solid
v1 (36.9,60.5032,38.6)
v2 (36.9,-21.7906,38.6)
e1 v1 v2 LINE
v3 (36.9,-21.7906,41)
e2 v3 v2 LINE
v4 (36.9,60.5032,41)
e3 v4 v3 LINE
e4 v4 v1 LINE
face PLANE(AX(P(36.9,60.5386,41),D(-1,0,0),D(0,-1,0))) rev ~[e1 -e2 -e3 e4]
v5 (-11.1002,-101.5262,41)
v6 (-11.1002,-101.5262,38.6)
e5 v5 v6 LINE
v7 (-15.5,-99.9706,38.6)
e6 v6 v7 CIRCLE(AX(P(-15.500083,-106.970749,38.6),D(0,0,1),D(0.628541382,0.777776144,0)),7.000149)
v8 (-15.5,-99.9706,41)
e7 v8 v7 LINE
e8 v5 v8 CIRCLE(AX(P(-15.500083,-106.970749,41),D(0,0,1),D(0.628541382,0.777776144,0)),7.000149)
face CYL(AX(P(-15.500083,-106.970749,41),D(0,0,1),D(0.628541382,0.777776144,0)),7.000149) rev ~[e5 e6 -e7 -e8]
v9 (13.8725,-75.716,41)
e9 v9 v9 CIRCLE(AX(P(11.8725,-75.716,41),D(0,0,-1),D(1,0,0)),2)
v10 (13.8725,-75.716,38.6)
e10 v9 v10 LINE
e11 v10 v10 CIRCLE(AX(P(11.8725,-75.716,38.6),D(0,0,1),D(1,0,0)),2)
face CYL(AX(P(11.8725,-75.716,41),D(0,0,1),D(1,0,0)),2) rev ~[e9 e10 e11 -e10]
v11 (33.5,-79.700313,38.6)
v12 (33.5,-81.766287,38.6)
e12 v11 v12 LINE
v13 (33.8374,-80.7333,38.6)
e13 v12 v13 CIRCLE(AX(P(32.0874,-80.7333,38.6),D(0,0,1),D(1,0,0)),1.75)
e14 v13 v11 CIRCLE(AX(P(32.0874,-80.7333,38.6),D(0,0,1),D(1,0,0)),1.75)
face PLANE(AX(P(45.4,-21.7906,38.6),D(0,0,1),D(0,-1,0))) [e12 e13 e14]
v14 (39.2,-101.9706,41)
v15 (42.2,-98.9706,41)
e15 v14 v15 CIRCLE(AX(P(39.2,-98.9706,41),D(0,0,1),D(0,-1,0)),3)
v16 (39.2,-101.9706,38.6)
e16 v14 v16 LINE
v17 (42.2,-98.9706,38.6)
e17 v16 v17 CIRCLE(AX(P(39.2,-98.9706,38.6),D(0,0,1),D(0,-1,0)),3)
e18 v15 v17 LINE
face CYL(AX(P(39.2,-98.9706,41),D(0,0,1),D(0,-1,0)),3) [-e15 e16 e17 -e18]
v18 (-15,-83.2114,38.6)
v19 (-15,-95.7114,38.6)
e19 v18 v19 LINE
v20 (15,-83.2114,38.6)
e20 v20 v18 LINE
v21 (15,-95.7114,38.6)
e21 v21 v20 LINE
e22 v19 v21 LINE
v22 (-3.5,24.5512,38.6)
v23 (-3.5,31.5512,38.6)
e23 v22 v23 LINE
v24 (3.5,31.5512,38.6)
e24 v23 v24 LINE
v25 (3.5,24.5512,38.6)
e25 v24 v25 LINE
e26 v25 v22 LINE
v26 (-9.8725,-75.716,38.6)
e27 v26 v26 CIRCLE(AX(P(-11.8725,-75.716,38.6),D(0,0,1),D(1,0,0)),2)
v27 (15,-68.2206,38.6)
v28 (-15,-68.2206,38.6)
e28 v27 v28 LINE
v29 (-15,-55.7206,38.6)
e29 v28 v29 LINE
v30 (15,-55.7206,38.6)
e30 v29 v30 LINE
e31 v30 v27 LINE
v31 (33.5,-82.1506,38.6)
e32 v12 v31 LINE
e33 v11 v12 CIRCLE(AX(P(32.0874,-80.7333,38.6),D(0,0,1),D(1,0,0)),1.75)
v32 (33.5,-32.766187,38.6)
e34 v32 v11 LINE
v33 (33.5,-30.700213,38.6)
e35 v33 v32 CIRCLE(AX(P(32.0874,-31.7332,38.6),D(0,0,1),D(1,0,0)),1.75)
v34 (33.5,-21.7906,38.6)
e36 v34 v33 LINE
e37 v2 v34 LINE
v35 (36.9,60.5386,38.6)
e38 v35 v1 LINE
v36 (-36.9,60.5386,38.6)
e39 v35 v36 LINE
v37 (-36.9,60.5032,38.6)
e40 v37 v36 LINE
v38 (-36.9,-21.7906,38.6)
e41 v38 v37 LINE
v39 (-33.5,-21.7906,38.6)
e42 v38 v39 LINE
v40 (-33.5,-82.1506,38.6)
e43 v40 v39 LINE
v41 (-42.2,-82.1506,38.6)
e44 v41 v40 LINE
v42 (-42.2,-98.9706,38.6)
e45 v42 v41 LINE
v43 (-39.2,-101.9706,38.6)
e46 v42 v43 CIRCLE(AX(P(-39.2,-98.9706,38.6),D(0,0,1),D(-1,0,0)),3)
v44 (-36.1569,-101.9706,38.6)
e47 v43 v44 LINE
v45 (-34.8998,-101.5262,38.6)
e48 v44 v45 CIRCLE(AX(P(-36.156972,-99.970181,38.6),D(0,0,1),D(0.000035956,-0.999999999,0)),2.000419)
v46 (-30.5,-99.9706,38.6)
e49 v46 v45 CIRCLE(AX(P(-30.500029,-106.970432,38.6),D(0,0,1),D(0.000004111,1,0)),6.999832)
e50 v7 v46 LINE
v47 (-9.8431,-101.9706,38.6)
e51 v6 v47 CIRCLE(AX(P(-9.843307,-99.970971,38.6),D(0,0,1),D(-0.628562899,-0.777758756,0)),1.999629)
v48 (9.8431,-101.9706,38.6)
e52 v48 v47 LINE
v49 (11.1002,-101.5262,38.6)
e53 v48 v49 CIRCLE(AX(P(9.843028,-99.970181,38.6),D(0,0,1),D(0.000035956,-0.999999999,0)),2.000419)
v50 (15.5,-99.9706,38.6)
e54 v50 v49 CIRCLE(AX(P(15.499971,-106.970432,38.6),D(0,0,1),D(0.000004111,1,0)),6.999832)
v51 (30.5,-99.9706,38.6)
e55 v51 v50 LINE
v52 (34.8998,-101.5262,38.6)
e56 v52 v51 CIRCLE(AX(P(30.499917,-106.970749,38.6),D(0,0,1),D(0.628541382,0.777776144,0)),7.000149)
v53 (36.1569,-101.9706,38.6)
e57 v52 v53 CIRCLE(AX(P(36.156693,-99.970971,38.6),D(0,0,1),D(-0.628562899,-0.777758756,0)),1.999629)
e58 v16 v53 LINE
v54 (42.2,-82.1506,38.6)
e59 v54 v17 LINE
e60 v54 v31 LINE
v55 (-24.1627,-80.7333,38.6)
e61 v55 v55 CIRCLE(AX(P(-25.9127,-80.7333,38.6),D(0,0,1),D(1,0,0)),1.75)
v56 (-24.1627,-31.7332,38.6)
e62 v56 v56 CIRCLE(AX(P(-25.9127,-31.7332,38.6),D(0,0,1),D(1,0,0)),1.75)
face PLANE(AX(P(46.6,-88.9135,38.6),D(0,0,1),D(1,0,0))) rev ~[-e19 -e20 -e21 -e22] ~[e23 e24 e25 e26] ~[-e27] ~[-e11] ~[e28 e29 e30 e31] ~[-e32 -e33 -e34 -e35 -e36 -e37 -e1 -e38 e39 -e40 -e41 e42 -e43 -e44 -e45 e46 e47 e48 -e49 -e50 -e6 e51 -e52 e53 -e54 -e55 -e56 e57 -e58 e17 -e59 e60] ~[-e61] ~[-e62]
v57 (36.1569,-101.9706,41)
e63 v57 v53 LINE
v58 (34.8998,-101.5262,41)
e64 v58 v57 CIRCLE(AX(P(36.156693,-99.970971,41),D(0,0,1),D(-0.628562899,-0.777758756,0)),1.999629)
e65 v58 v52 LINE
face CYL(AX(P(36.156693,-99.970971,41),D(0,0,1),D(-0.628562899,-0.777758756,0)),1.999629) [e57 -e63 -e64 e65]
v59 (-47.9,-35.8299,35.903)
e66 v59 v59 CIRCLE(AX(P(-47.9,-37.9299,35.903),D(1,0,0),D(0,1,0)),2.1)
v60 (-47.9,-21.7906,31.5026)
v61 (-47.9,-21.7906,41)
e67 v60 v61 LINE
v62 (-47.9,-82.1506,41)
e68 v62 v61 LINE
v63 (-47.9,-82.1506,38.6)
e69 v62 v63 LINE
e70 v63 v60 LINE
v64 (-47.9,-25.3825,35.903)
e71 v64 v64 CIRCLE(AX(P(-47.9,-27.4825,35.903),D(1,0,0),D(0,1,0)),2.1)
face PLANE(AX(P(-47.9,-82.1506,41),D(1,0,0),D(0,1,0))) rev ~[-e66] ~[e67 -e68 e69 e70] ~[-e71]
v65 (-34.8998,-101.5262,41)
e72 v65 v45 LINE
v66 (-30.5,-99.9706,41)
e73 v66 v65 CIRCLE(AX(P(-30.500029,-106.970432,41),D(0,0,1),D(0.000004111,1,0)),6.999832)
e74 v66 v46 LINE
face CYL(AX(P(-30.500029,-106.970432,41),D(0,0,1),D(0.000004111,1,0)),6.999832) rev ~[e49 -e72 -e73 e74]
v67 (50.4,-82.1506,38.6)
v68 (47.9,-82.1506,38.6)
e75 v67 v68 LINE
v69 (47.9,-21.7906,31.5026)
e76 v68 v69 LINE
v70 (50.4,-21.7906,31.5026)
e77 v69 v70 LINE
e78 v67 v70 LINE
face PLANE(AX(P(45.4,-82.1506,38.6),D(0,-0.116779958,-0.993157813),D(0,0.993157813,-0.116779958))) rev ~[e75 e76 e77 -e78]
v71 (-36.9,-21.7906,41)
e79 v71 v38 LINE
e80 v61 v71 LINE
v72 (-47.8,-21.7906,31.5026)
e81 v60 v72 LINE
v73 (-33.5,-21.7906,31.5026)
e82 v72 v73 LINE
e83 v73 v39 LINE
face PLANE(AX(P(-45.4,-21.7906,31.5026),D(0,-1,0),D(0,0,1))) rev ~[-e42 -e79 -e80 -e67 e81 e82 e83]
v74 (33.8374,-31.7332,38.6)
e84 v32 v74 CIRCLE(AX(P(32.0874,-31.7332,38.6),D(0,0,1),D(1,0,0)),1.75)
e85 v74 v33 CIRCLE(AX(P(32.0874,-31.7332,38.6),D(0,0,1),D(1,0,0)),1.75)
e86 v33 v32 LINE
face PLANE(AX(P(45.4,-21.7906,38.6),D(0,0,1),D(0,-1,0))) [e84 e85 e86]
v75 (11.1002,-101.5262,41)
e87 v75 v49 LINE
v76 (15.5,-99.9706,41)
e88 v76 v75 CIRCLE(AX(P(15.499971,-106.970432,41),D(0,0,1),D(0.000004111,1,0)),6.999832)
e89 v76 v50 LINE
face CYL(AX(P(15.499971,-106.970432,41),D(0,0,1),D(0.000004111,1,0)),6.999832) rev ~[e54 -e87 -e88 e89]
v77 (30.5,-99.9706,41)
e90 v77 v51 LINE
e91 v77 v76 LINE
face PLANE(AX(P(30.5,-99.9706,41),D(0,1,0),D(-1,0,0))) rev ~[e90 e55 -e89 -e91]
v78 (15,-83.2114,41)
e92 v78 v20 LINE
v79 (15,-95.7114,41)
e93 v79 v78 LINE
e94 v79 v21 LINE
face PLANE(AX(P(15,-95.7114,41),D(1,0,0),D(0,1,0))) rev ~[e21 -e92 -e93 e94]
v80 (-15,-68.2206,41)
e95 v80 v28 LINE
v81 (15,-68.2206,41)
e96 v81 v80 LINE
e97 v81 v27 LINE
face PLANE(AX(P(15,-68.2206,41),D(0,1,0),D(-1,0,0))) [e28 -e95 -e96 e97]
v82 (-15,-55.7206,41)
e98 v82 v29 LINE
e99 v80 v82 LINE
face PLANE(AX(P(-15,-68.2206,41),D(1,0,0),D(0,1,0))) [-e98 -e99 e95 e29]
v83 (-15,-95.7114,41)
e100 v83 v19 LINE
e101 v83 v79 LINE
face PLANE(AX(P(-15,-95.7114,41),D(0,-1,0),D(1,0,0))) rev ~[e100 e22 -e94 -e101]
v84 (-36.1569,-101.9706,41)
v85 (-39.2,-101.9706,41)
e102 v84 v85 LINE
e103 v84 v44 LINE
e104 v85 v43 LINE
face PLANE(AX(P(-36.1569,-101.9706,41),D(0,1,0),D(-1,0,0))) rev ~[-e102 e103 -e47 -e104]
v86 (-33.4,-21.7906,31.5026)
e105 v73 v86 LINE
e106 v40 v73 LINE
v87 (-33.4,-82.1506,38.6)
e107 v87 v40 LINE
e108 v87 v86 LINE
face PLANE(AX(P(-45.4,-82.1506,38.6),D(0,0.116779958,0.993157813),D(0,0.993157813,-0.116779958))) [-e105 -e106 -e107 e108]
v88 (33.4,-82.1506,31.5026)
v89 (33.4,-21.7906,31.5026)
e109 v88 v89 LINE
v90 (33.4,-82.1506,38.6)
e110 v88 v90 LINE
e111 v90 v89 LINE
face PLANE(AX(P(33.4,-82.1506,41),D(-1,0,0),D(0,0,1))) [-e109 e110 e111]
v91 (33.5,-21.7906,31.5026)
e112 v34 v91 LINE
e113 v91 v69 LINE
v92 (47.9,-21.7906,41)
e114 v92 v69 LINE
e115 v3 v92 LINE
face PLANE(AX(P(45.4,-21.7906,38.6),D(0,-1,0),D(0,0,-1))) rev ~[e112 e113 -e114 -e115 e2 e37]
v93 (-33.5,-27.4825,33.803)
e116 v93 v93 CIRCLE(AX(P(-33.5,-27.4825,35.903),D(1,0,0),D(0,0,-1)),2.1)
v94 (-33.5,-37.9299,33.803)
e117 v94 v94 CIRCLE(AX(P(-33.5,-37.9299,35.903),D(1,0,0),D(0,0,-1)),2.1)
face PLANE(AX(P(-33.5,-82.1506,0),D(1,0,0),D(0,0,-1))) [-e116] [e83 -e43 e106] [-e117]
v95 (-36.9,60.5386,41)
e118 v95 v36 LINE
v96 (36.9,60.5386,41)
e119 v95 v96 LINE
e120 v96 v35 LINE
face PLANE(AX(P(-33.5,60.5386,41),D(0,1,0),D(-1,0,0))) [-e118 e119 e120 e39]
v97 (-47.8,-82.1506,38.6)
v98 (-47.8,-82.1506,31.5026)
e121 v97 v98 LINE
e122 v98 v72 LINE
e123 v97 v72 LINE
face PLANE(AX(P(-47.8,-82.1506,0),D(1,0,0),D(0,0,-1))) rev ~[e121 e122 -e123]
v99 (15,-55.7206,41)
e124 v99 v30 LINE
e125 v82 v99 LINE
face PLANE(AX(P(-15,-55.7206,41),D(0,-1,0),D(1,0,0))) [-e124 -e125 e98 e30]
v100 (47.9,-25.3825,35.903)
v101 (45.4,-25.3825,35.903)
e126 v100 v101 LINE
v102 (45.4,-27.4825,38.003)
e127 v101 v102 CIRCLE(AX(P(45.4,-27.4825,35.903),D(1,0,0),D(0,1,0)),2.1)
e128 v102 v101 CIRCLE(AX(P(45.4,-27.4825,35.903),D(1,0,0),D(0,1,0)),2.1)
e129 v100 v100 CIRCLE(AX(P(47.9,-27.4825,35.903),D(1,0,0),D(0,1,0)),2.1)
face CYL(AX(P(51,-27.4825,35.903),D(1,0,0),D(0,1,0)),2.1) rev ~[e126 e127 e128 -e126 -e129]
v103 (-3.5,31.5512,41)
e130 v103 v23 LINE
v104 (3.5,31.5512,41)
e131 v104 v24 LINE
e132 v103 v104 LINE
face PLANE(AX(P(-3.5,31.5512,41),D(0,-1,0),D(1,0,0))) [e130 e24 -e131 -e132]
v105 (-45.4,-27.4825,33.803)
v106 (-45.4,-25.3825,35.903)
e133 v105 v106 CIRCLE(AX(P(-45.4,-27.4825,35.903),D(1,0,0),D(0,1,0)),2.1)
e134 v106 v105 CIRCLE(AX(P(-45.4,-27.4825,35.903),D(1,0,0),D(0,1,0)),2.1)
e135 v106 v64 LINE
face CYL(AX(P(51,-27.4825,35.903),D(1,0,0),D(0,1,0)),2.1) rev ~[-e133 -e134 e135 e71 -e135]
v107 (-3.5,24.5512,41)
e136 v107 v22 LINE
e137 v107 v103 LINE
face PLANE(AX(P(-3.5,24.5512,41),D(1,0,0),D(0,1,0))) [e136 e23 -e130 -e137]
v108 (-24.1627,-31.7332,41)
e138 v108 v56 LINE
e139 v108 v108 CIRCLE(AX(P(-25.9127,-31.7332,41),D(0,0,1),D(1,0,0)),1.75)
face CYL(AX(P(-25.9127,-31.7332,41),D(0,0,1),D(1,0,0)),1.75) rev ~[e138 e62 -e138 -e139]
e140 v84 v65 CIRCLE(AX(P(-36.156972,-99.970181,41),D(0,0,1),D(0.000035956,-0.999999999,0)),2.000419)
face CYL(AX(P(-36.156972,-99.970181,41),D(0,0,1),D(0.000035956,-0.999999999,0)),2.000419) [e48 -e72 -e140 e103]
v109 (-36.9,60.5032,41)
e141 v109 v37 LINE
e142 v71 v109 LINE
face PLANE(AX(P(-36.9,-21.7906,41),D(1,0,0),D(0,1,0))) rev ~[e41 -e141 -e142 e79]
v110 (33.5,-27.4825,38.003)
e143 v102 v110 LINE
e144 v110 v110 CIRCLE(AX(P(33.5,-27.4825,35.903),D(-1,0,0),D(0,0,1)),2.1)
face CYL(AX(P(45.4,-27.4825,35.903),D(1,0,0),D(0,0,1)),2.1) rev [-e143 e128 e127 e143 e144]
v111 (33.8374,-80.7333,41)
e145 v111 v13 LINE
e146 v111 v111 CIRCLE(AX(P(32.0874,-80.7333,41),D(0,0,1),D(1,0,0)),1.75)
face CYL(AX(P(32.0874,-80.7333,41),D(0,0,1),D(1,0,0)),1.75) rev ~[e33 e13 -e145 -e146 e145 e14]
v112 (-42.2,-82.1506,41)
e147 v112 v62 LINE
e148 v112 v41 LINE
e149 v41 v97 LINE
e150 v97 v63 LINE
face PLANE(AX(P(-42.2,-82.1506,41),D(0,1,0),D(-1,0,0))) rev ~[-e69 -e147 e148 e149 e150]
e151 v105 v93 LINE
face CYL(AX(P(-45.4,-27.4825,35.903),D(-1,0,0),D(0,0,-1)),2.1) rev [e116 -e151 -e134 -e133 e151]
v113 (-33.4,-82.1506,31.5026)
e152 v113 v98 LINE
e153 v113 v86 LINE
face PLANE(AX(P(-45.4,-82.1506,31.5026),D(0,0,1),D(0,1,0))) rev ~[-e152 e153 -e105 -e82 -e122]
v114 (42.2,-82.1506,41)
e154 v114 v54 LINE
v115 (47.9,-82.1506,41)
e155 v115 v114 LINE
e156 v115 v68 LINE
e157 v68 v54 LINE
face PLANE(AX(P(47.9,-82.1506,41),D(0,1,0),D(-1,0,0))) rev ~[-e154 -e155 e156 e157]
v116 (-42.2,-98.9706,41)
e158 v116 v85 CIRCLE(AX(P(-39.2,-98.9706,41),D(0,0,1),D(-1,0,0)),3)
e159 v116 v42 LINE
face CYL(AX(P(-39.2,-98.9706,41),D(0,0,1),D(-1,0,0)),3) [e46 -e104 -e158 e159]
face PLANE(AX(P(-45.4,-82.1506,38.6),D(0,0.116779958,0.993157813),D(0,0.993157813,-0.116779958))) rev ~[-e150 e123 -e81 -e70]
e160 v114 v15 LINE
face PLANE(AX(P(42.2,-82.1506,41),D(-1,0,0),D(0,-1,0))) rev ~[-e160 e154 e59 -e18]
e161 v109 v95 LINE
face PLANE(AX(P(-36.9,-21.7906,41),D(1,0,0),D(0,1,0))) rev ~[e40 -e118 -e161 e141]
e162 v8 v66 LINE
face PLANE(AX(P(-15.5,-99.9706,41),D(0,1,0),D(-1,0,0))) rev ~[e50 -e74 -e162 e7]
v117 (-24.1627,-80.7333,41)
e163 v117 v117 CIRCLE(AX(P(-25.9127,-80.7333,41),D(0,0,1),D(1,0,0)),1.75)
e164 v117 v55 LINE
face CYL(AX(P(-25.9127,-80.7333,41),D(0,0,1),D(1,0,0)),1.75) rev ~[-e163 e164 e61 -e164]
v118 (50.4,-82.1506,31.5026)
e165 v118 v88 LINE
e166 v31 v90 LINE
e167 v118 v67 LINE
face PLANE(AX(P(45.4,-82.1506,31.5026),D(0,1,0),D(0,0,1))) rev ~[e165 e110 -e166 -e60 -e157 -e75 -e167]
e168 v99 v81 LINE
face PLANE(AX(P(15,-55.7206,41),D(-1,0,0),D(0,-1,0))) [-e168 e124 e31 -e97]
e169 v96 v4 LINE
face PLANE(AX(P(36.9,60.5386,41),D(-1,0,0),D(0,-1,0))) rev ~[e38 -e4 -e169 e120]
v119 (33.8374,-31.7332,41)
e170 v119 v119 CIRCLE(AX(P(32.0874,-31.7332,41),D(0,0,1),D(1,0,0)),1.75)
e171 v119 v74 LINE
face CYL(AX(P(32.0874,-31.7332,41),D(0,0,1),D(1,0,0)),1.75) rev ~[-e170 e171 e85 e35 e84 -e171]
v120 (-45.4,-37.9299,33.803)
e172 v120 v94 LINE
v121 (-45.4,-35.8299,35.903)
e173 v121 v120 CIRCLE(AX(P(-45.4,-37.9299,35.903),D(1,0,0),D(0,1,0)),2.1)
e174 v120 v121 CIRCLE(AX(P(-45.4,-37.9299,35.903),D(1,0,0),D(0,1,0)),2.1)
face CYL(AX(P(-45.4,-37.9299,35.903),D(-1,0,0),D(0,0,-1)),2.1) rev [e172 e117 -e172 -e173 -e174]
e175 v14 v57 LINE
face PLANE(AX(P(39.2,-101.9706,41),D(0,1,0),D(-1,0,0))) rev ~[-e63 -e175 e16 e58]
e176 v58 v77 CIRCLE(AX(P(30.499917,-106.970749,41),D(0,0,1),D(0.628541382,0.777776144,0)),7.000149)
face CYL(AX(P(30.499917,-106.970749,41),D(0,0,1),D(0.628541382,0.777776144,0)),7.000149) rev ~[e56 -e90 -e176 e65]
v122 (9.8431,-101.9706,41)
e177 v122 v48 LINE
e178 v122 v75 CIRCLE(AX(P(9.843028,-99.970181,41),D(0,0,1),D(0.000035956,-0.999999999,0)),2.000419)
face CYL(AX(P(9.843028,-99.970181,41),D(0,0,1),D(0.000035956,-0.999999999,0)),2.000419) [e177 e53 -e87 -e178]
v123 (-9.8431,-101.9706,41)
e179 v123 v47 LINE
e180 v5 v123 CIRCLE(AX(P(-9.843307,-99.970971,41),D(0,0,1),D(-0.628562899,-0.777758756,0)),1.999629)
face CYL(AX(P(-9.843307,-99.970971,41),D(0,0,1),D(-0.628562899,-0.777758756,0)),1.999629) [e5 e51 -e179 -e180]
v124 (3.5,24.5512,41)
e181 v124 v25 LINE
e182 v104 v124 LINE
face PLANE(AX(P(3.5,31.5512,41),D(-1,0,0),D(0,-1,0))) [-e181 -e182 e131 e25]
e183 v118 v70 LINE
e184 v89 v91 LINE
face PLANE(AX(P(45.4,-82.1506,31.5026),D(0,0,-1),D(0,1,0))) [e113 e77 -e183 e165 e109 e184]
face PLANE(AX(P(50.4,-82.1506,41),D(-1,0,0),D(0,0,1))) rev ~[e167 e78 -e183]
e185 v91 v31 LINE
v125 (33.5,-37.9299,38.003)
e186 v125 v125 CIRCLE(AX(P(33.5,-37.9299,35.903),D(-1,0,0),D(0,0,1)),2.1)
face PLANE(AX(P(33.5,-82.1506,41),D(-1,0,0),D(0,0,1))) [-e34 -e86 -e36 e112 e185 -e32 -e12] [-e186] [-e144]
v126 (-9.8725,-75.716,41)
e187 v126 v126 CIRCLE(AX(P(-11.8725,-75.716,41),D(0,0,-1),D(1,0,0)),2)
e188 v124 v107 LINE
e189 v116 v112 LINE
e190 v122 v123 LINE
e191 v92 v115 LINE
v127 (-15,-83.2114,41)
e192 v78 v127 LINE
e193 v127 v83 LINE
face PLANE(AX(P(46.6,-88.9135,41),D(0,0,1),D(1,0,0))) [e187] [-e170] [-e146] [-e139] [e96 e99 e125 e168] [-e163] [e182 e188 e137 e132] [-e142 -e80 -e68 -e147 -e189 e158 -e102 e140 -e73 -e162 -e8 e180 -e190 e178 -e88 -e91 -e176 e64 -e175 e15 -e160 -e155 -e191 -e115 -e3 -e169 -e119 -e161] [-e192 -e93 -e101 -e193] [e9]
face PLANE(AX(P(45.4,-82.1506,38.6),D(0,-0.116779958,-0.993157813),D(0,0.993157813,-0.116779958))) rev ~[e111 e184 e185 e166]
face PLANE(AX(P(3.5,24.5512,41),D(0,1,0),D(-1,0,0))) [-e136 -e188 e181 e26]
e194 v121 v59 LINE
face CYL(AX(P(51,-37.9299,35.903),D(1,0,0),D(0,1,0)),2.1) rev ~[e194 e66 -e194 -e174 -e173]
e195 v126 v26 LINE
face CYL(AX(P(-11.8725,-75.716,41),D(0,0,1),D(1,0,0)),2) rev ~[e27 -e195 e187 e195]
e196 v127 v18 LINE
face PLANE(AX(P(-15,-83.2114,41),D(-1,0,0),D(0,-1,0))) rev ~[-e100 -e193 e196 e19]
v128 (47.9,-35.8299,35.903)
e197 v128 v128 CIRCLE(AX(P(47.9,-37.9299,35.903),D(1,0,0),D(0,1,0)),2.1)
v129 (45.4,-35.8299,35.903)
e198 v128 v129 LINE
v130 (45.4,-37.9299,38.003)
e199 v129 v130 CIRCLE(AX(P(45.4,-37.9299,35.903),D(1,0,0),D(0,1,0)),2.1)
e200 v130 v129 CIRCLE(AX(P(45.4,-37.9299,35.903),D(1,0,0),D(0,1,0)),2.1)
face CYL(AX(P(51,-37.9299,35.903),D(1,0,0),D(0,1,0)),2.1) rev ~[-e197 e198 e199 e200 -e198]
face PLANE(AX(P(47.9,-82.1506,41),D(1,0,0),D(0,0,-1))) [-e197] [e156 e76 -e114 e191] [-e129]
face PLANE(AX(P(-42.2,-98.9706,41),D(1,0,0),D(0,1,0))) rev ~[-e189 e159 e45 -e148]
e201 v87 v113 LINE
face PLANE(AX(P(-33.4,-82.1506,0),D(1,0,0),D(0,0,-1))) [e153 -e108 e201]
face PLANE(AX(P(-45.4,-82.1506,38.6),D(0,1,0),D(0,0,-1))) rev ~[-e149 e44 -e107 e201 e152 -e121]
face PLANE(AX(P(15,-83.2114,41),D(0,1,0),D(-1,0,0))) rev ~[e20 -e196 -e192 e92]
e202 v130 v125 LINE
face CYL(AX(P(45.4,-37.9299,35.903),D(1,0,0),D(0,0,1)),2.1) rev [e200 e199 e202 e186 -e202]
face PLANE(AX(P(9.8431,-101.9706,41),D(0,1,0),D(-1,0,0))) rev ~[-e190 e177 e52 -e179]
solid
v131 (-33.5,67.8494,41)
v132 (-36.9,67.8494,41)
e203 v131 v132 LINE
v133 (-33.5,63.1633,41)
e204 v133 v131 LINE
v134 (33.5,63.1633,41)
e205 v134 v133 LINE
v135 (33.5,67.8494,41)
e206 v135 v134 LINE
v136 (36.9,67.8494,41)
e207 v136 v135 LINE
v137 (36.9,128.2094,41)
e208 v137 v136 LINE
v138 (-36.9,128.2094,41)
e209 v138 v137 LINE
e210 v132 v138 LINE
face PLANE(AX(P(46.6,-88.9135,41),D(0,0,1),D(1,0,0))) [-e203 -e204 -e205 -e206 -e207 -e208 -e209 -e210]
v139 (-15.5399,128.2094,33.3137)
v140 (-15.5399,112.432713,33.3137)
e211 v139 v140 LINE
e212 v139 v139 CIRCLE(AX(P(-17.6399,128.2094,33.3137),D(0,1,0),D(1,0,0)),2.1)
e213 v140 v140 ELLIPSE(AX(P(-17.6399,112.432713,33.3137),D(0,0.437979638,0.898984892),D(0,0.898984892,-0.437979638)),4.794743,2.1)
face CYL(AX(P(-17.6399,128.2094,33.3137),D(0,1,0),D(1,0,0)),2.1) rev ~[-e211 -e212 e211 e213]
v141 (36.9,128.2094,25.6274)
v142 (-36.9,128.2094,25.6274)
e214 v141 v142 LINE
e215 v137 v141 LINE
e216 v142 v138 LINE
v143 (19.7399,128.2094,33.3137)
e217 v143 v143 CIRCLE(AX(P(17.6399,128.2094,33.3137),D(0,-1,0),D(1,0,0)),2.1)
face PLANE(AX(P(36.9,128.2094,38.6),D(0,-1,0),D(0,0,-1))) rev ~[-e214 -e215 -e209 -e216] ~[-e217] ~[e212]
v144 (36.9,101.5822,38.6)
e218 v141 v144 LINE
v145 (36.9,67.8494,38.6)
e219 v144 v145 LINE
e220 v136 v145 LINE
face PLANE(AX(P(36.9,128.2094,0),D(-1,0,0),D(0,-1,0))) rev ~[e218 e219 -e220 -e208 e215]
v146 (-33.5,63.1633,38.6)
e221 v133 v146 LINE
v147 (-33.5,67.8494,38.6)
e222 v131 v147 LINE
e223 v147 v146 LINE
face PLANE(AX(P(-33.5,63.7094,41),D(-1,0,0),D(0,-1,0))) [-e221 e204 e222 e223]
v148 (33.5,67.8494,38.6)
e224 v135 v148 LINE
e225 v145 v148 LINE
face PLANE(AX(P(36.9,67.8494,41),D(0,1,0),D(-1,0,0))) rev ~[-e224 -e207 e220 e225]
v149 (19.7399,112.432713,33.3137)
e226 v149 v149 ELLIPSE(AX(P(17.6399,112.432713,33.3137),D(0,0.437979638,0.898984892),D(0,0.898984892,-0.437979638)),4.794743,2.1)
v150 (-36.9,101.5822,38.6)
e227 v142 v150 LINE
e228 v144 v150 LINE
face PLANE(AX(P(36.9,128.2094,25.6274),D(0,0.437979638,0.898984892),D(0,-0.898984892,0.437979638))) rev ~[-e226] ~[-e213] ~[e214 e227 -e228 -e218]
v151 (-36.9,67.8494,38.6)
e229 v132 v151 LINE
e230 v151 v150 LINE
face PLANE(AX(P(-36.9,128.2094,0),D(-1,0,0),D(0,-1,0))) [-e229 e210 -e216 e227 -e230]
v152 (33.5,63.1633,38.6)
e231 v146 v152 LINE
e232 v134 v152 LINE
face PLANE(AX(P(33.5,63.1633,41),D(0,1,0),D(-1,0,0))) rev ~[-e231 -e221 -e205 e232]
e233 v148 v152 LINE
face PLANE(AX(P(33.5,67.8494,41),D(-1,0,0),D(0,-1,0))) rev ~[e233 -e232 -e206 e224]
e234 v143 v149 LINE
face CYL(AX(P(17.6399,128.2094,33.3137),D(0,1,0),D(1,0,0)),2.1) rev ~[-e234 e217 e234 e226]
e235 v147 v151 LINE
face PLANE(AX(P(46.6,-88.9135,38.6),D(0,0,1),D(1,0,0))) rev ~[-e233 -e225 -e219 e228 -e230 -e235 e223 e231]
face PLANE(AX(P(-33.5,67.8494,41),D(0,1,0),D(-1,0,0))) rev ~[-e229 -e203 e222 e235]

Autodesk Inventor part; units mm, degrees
ref_plane "РабПлоскость1" through (46.6, -88.9135, 41) normal (0, 0, 1) x (1, 0, 0)
sketch "Эскиз1" plane through (46.6, -88.9135, 41) normal (0, 0, 1) x (1, 0, 0)
  line L0 (-9.7, 217.1229) -> (-9.7, 156.7629) projected
  line L1 (-83.5, 217.1229) -> (-9.7, 217.1229) projected
  line L2 (-83.5, 156.7629) -> (-83.5, 217.1229) projected
  line L3 (-80.1, 156.7629) -> (-83.5, 156.7629) projected
  line L4 (-9.7, 156.7629) -> (-13.1, 156.7629) projected
  line L5 (-13.1, 156.7629) -> (-13.1, 152.0768) projected
  line L6 (-13.1, 152.0768) -> (-35.7214, 152.0768) projected
  line L7 (-80.1, 152.6229) -> (-80.1, 149.4521) projected
  line L8 (-13.1, 58.2834) -> (-13.1, 67.1229) projected
  line L9 (1.3, 67.1229) -> (1.3, 6.7629) projected
  line L10 (1.3, 6.7629) -> (-4.4, 6.7629) projected
  line L11 (-4.4, 6.7629) -> (-4.4, -10.0571) projected
  arc A0 (-7.4, -13.0571) -> (-4.4, -10.0571) centre (-7.4, -10.0571) ccw projected
  line L12 (-7.4, -13.0571) -> (-10.4431, -13.0571) projected
  arc A1 (-11.7002, -12.6127) -> (-10.4431, -13.0571) centre (-10.4431, -11.0571) ccw projected
  arc A2 (-11.7002, -12.6127) -> (-16.1, -11.0571) centre (-16.1, -18.0571) ccw projected
  line L13 (-16.1, -11.0571) -> (-31.1, -11.0571) projected
  arc A3 (-31.1, -11.0571) -> (-35.4998, -12.6127) centre (-31.1, -18.0571) ccw projected
  arc A4 (-36.7569, -13.0571) -> (-35.4998, -12.6127) centre (-36.7569, -11.0571) ccw projected
  line L14 (-36.7569, -13.0571) -> (-56.4431, -13.0571) projected
  arc A5 (-57.7002, -12.6127) -> (-56.4431, -13.0571) centre (-56.4431, -11.0571) ccw projected
  arc A6 (-57.7002, -12.6127) -> (-62.1, -11.0571) centre (-62.1, -18.0571) ccw projected
  line L15 (-62.1, -11.0571) -> (-77.1, -11.0571) projected
  arc A7 (-77.1, -11.0571) -> (-81.4998, -12.6127) centre (-77.1, -18.0571) ccw projected
  arc A8 (-82.7569, -13.0571) -> (-81.4998, -12.6127) centre (-82.7569, -11.0571) ccw projected
  line L16 (-82.7569, -13.0571) -> (-85.8, -13.0571) projected
  arc A9 (-88.8, -10.0571) -> (-85.8, -13.0571) centre (-85.8, -10.0571) ccw projected
  line L17 (-88.8, -10.0571) -> (-88.8, 6.7629) projected
  line L18 (-88.8, 6.7629) -> (-94.5, 6.7629) projected
  line L19 (-94.5, 6.7629) -> (-94.5, 67.1229) projected
  line L20 (-83.5, 217.1229) -> (-9.7, 217.1229)
  line L21 (-9.7, 156.7629) -> (-9.7, 217.1229)
  line L22 (-9.7, 156.7629) -> (-13.1, 156.7629)
  line L23 (1.3, 67.1229) -> (-8.5813, 67.1229)
  line L24 (1.3, 67.1229) -> (1.3, 6.7629)
  line L25 (-4.4, 6.7629) -> (1.3, 6.7629)
  line L26 (-4.4, 6.7629) -> (-4.4, -10.0571)
  line L27 (-16.1, -11.0571) -> (-31.1, -11.0571)
  arc A10 (-7.4, -13.0571) -> (-4.4, -10.0571) centre (-7.4, -10.0571) ccw
  arc A11 (-11.7002, -12.6127) -> (-10.4431, -13.0571) centre (-10.4431, -11.0571) ccw
  arc A12 (-11.7002, -12.6127) -> (-16.1, -11.0571) centre (-16.1, -18.0571) ccw
  line L28 (-7.4, -13.0571) -> (-10.4431, -13.0571)
  line L29 (-36.7569, -13.0571) -> (-56.4431, -13.0571)
  line L30 (-62.1, -11.0571) -> (-77.1, -11.0571)
  line L31 (-84.2784, -13.0571) -> (-85.8, -13.0571)
  line L32 (-88.8, -10.0571) -> (-88.8, 6.7629)
  line L33 (-94.5, 6.7629) -> (-88.8, 6.7629)
  line L34 (-94.5, 67.1229) -> (-94.5, 6.7629)
  line L35 (-84.6286, 67.1229) -> (-94.5, 67.1229)
  line L36 (-83.5, 217.1229) -> (-83.5, 156.7629)
  line L37 (-83.5, 156.7629) -> (-80.1, 156.7629)
  arc A13 (-31.1, -11.0571) -> (-35.4998, -12.6127) centre (-31.1, -18.0571) ccw
  arc A14 (-36.7569, -13.0571) -> (-35.4998, -12.6127) centre (-36.7569, -11.0571) ccw
  arc A15 (-57.7002, -12.6127) -> (-62.1, -11.0571) centre (-62.1, -18.0571) ccw
  arc A16 (-57.7002, -12.6127) -> (-56.4431, -13.0571) centre (-56.4431, -11.0571) ccw
  arc A17 (-88.8, -10.0571) -> (-85.8, -13.0571) centre (-85.8, -10.0571) ccw
  arc A18 (-82.7569, -13.0571) -> (-81.4998, -12.6127) centre (-82.7569, -11.0571) ccw
  arc A19 (-77.1, -11.0571) -> (-81.4998, -12.6127) centre (-77.1, -18.0571) ccw
  line L38 (-82.7569, -13.0571) -> (-84.2784, -13.0571)
  line L39 (-35.7214, 152.0768) -> (-13.1, 152.0768)
  line L40 (-13.1, 149.4521) -> (-35.7214, 149.4521)
  line L41 (-13.1, 156.7629) -> (-13.1, 152.0768)
  line L42 (-35.7214, 152.0768) -> (-80.1, 152.0768)
  line L43 (-80.1, 156.7629) -> (-80.1, 152.0768)
  line L44 (-83.5, 67.1229) -> (-83.5, 156.7629) projected
  line L45 (-35.7214, 149.4521) -> (-83.5, 149.4521)
  line L46 (-83.5, 149.4521) -> (-83.5, 67.1229)
  line L47 (-83.5, 67.1229) -> (-84.6286, 67.1229)
  line L48 (-9.7, 156.7629) -> (-9.7, 67.1229) projected
  line L49 (-13.1, 149.4521) -> (-9.7, 149.4521)
  line L50 (-9.7, 149.4521) -> (-9.7, 67.1229)
  line L51 (-8.5813, 67.1229) -> (-9.7, 67.1229)
  point P0 (-46.6, 88.9135)
  point P1 (-72.4576, 152.0768)
extrude "Выдавливание1" add sketch "Эскиз1" against normal blind 2.4 contours L0 L4 L5 L6 L42 L7 L43 L3 L2 L1 | L48 L51 L23 L9 L10 L11 A0 L12 A1 A2 L13 A3 A4 L14 A5 A6 L15 A7 A8 L16 A9 L17 L18 L19 L35 L47 L44 L45 L40 L49
sketch "Эскиз2" plane through (46.6, -88.9135, 41) normal (0, 0, 1) x (1, 0, 0)
  line L0 (-47.85, 115.9647) -> (-45.35, 115.9647)
  line L1 (-45.35, 115.9647) -> (-45.35, 117.9647)
  line L2 (-45.35, 117.9647) -> (-47.85, 117.9647)
  line L3 (-47.85, 117.9647) -> (-47.85, 115.9647)
  line L4 (-47.85, 117.9647) -> (-45.35, 115.9647)
  line L5 (-45.35, 117.9647) -> (-47.85, 115.9647)
  line L6 (-44.6, 115.3647) -> (-48.6, 115.3647)
  line L7 (-48.6, 115.3647) -> (-48.6, 118.5647)
  line L8 (-48.6, 118.5647) -> (-44.6, 118.5647)
  line L9 (-44.6, 118.5647) -> (-44.6, 115.3647)
  line L10 (-44.6, 115.3647) -> (-48.6, 118.5647) construction
  line L11 (-48.6, 115.3647) -> (-44.6, 118.5647) construction
  point P0 (-46.6, 88.9135)
  point P1 (-46.6, 116.9647)
  dimension "d2" = 4
  dimension "d3" = 3.2
extrude "Выдавливание2" cut sketch "Эскиз2" against normal blind 2.4 contours L5 L4 L0 | L3 L4 L5 | L4 L5 L1 | L2 L5 L4 | L6 L7 L8 L9
ref_plane "РабПлоскость3" through (36.9, 128.2094, 0) normal (-1, 0, 0) x (0, -1, 0)
sketch "Эскиз4" plane through (36.9, 128.2094, 0) normal (-1, 0, 0) x (0, -1, 0)
  line L0 (0, 38.6) -> (60.36, 38.6) projected
  line L1 (0, 38.6) -> (0, 25.6274)
  line L2 (0, 25.6274) -> (26.6272, 38.6)
  point P0 (128.2094, 0)
extrude "Выдавливание3" add sketch "Эскиз4" along normal up to surface (73.8 mm away)
sketch "Эскиз5" plane through (-36.9, 128.2094, 41) normal (0, 1, 0) x (1, 0, 0)
  line L0 (0, 0) -> (0, 15.3726) projected
  line L1 (73.8, 0) -> (0, 0) projected
  line L2 (0, 15.3726) -> (73.8, 15.3726)
  line L3 (73.8, 15.3726) -> (73.8, 0)
  line L4 (73.8, 0) -> (0, 0)
  line L5 (0, 0) -> (0, 15.3726)
  line L6 (36.9, 7.6863) -> (36.9, 0)
  line L7 (36.9, 7.6863) -> (78.783, 7.6863)
  circle A0 centre (54.5399, 7.6863) radius 2.1
  circle A1 centre (19.2601, 7.6863) radius 2.1
  point P0 (36.9, 41)
  dimension "d9" = 4.2
extrude "Выдавливание4" cut sketch "Эскиз5" against normal blind 100 contours A0 L7 | L7 A0 | A1
ref_plane "РабПлоскость4" through (-47.9, -82.1506, 0) normal (1, 0, 0) x (0, 1, 0)
sketch "Эскиз6" plane through (-47.9, -82.1506, 0) normal (1, 0, 0) x (0, 1, 0)
  line L0 (0, 0) -> (0, 41) projected
  line L1 (0, 0) -> (11.7274, 0) projected
  line L2 (48.7274, 0) -> (60.36, 0) projected
  line L3 (60.36, 0) -> (60.36, 41) projected
  line L4 (0, 41) -> (60.36, 41) projected
  line L5 (0, 0) -> (0, 41) projected
  line L6 (60.36, 38.6) -> (0, 38.6) projected
  line L7 (0, 38.6) -> (60.36, 31.5026)
  line L8 (60.36, 38.6) -> (60.36, 31.5026)
  line L9 (60.36, 38.6) -> (0, 38.6)
  circle A0 centre (54.6681, 35.903) radius 2.1 projected
  circle A1 centre (44.2207, 35.903) radius 2.1 projected
  line L10 (38.9979, 31.9782) -> (38.9979, 26.6825) projected
  line L11 (38.9979, 26.6825) -> (18.9835, 26.6825) projected
  line L12 (18.9835, 26.6825) -> (18.9835, 31.9782) projected
  line L13 (18.9835, 31.9782) -> (38.9979, 31.9782) projected
  circle A2 centre (9.683, 11.916) radius 1.35 projected
  circle A3 centre (50.8192, 11.8339) radius 1.35 projected
  arc A4 (48.7274, 0) -> (11.7274, 0) centre (30.2274, 0) ccw projected
  point P0 (82.1506, 0)
  point P1 (11.1758, 0)
  point P2 (51.7615, 0)
extrude "Выдавливание5" add sketch "Эскиз6" along normal blind 2.5 contours L6 L3 L7 | A0 | A1
sketch "Эскиз7" plane through (47.9, -82.1506, 41) normal (1, 0, 0) x (0, 0, -1)
  line L0 (0, 60.36) -> (9.4974, 60.36) projected
  line L1 (2.4, 60.36) -> (2.4, 142.6892) projected
  line L2 (9.4974, 60.36) -> (2.4, 60.36)
  line L3 (2.4, 0) -> (9.4974, 60.36) projected
  line L4 (2.4, 60.36) -> (2.4, 0)
  line L5 (2.4, 0) -> (9.4974, 60.36)
  point P0 (41, 82.1506)
extrude "Выдавливание6" add sketch "Эскиз7" against normal blind 2.5
ref_plane "РабПлоскость5" through (51, -83.4706, 0) normal (1, 0, 0) x (0, 1, 0)
sketch "Эскиз9" plane through (51, -83.4706, 0) normal (1, 0, 0) x (0, 1, 0)
  circle A0 centre (45.5407, 35.903) radius 2.1 projected
  circle A1 centre (55.9881, 35.903) radius 2.1 projected
  circle A2 centre (45.5407, 35.903) radius 2.1
  circle A3 centre (55.9881, 35.903) radius 2.1
  point P0 (83.4706, 0)
extrude "Выдавливание7" cut sketch "Эскиз9" against normal blind 150
sketch "Эскиз10" plane through (46.6, -88.9135, 41) normal (0, 0, 1) x (1, 0, 0)
  circle A0 centre (-58.4725, 13.1975) radius 2 projected
  circle A1 centre (-34.7275, 13.1975) radius 2 projected
  circle A2 centre (-58.4725, 13.1975) radius 2
  circle A3 centre (-34.7275, 13.1975) radius 2
  line L0 (-61.6, 33.1929) -> (-31.6, 33.1929) projected
  line L1 (-61.6, 20.6929) -> (-61.6, 33.1929) projected
  line L2 (-31.6, 20.6929) -> (-61.6, 20.6929) projected
  line L3 (-31.6, 33.1929) -> (-31.6, 20.6929) projected
  line L4 (-31.6, 20.6929) -> (-61.6, 20.6929)
  line L5 (-61.6, 20.6929) -> (-61.6, 33.1929)
  line L6 (-61.6, 33.1929) -> (-31.6, 33.1929)
  line L7 (-31.6, 33.1929) -> (-31.6, 20.6929)
  line L8 (-31.6, 20.6929) -> (-61.6, 33.1929) construction
  line L9 (-61.6, 20.6929) -> (-31.6, 33.1929) construction
  line L10 (-64.6284, 13.1975) -> (-23.2686, 13.1975)
  line L11 (-61.6, -6.7979) -> (-31.6, -6.7979)
  line L12 (-61.6, 5.7021) -> (-61.6, -6.7979)
  line L13 (-31.6, 5.7021) -> (-61.6, 5.7021)
  line L14 (-31.6, -6.7979) -> (-31.6, 5.7021)
  line L15 (-61.6, 5.7021) -> (-61.6, -6.7979)
  point P0 (-46.6, 88.9135)
  point P1 (-46.6, 26.9429)
extrude "Выдавливание8" cut sketch "Эскиз10" against normal blind 20
sketch "Эскиз11" plane through (46.6, -88.9135, 41) normal (0, 0, 1) x (1, 0, 0)
  circle A0 centre (-14.5126, 57.1803) radius 1.4 projected
  circle A1 centre (-72.5127, 57.1803) radius 1.4 projected
  circle A2 centre (-72.5127, 8.1802) radius 1.4 projected
  circle A3 centre (-14.5126, 8.1802) radius 1.4 projected
  circle A4 centre (-14.5126, 8.1802) radius 1.75
  circle A5 centre (-72.5127, 8.1802) radius 1.75
  circle A6 centre (-72.5127, 57.1803) radius 1.75
  circle A7 centre (-14.5126, 57.1803) radius 1.75
  point P0 (-46.6, 88.9135)
  dimension "d21" = 3.5
extrude "Выдавливание9" cut sketch "Эскиз11" against normal blind 2.4 contours A0 | A1 | A2 | A3 | A4 | A5 | A6 | A7
sketch "Эскиз12" plane through (-45.4, -82.1506, 0) normal (1, 0, 0) x (0, 0, -1)
  circle A0 centre (-35.903, 54.6681) radius 2.1 projected
  circle A1 centre (-35.903, 44.2207) radius 2.1 projected
  line L0 (-31.5026, 60.36) -> (-38.6, 60.36) projected
  line L1 (-38.6, 0) -> (-31.5026, 60.36) projected
  line L2 (-38.6, 0) -> (-31.5026, 0)
  line L3 (-41, 60.36) -> (-31.5026, 60.36) projected
  line L4 (-31.5026, 0) -> (-31.5026, 60.36)
  line L5 (-31.5026, 60.36) -> (-38.6, 60.36) projected
  line L6 (-38.6, 0) -> (-38.6, 60.36) projected
  point P0 (0, 82.1506)
ref_plane "РабПлоскость6" through (-47.9, -83.0889, -1.3814) normal (1, 0, 0) x (0, 1, 0)
sketch "Эскиз13" plane through (-45.4, -82.1506, 0) normal (1, 0, 0) x (0, 0, -1)
  circle A0 centre (-35.903, 54.6681) radius 2.1 projected
  circle A1 centre (-35.903, 44.2207) radius 2.1 projected
  line L0 (-31.5026, 60.36) -> (-38.6, 60.36) projected
  line L1 (-38.6, 0) -> (-31.5026, 60.36) projected
  line L2 (-38.6, 0) -> (-38.6, 60.36) projected
  point P0 (0, 82.1506)
ref_plane "РабПлоскость7" through (-33.5, -22.7289, -1.8842) normal (1, 0, 0) x (0, 1, 0)
extrude "Выдавливание11" add sketch "Эскиз13" along normal up to surface (11.9 mm away)
sketch "Эскиз14" plane through (45.4, -82.1506, 41) normal (-1, 0, 0) x (0, 0, 1)
  circle A0 centre (-5.097, 44.2207) radius 2.1 projected
  circle A1 centre (-5.097, 54.6681) radius 2.1 projected
  line L0 (-9.4974, 0) -> (-9.4974, 60.36) projected
  line L1 (-9.4974, 0) -> (-2.4, 0)
  line L2 (-2.4, 0) -> (-2.4, 2)
  line L3 (-9.6681, 60.36) -> (-7.4974, 60.36)
  line L4 (-2.4, 60.36) -> (-9.4974, 60.36) projected
  line L5 (-2.4, 0) -> (-9.4974, 60.36) projected
  line L6 (-9.4974, 60.36) -> (-2.4, 0)
  point P0 (-41, 82.1506)
  point P1 (-9.4974, 60.36)
ref_plane "РабПлоскость8" through (47.9, -83.0889, -1.3814) normal (-1, 0, 0) x (0, 0, 1)
sketch "Эскиз15" plane through (45.4, -82.1506, 41) normal (-1, 0, 0) x (0, 0, 1)
  circle A0 centre (-5.097, 54.6681) radius 2.1 projected
  circle A1 centre (-5.097, 44.2207) radius 2.1 projected
  line L0 (-2.4, 60.36) -> (-2.4, 0) projected
  line L1 (-2.4, 60.36) -> (-9.4974, 60.36) projected
  line L2 (-9.4974, 60.36) -> (-2.4, 0) projected
  point P0 (-41, 82.1506)
extrude "Выдавливание13" add sketch "Эскиз15" along normal blind 11.9
sketch "Эскиз16" plane through (46.6, -88.9135, 41) normal (0, 0, 1) x (1, 0, 0)
  line L0 (-83.5, 67.1229) -> (-83.5, 156.7629) projected
  line L1 (-80.1, 67.1229) -> (-94.5, 67.1229) projected
  line L2 (-80.1, 149.4521) -> (-80.1, 67.1229) projected
  line L3 (-83.5, 149.4167) -> (-80.1, 149.4167) projected
  line L4 (-13.1, 149.4167) -> (-9.7, 149.4167) projected
  line L5 (-13.1, 67.1229) -> (-13.1, 149.4521) projected
  line L6 (-9.7, 156.7629) -> (-9.7, 67.1229) projected
  line L7 (1.3, 67.1229) -> (-13.1, 67.1229) projected
  line L8 (-48.6, 118.5647) -> (-44.6, 118.5647) projected
  line L9 (-44.6, 118.5647) -> (-44.6, 115.3647) projected
  line L10 (-48.6, 115.3647) -> (-48.6, 118.5647) projected
  line L11 (-44.6, 115.3647) -> (-48.6, 115.3647) projected
  line L12 (-44.6, 115.3647) -> (-48.6, 118.5647)
  line L13 (-44.6, 118.5647) -> (-48.6, 118.5647) projected
  line L14 (-48.6, 115.3647) -> (-44.6, 118.5647)
  line L15 (-43.1, 113.4647) -> (-50.1, 113.4647)
  line L16 (-50.1, 113.4647) -> (-50.1, 120.4647)
  line L17 (-50.1, 120.4647) -> (-43.1, 120.4647)
  line L18 (-43.1, 120.4647) -> (-43.1, 113.4647)
  line L19 (-43.1, 113.4647) -> (-50.1, 120.4647) construction
  line L20 (-50.1, 113.4647) -> (-43.1, 120.4647) construction
  point P0 (-46.6, 88.9135)
  point P1 (-46.6, 116.9647)
  dimension "d40" = 7
extrude "Выдавливание14" add sketch "Эскиз16" against normal up to surface (2.4 mm away) contours L0 L3 L2 L1 | L4 L6 L7 L5
extrude "Выдавливание15" cut sketch "Эскиз16" against normal blind 10 contours L15 L16 L17 L18
extrude "Выдавливание16" add sketch "Эскиз12" along normal blind 12 and the other way blind 2.4 contours L4 L2 L1
extrude "Выдавливание17" add sketch "Эскиз14" along normal blind 12 and the other way blind 5 contours L0 L5 L1
